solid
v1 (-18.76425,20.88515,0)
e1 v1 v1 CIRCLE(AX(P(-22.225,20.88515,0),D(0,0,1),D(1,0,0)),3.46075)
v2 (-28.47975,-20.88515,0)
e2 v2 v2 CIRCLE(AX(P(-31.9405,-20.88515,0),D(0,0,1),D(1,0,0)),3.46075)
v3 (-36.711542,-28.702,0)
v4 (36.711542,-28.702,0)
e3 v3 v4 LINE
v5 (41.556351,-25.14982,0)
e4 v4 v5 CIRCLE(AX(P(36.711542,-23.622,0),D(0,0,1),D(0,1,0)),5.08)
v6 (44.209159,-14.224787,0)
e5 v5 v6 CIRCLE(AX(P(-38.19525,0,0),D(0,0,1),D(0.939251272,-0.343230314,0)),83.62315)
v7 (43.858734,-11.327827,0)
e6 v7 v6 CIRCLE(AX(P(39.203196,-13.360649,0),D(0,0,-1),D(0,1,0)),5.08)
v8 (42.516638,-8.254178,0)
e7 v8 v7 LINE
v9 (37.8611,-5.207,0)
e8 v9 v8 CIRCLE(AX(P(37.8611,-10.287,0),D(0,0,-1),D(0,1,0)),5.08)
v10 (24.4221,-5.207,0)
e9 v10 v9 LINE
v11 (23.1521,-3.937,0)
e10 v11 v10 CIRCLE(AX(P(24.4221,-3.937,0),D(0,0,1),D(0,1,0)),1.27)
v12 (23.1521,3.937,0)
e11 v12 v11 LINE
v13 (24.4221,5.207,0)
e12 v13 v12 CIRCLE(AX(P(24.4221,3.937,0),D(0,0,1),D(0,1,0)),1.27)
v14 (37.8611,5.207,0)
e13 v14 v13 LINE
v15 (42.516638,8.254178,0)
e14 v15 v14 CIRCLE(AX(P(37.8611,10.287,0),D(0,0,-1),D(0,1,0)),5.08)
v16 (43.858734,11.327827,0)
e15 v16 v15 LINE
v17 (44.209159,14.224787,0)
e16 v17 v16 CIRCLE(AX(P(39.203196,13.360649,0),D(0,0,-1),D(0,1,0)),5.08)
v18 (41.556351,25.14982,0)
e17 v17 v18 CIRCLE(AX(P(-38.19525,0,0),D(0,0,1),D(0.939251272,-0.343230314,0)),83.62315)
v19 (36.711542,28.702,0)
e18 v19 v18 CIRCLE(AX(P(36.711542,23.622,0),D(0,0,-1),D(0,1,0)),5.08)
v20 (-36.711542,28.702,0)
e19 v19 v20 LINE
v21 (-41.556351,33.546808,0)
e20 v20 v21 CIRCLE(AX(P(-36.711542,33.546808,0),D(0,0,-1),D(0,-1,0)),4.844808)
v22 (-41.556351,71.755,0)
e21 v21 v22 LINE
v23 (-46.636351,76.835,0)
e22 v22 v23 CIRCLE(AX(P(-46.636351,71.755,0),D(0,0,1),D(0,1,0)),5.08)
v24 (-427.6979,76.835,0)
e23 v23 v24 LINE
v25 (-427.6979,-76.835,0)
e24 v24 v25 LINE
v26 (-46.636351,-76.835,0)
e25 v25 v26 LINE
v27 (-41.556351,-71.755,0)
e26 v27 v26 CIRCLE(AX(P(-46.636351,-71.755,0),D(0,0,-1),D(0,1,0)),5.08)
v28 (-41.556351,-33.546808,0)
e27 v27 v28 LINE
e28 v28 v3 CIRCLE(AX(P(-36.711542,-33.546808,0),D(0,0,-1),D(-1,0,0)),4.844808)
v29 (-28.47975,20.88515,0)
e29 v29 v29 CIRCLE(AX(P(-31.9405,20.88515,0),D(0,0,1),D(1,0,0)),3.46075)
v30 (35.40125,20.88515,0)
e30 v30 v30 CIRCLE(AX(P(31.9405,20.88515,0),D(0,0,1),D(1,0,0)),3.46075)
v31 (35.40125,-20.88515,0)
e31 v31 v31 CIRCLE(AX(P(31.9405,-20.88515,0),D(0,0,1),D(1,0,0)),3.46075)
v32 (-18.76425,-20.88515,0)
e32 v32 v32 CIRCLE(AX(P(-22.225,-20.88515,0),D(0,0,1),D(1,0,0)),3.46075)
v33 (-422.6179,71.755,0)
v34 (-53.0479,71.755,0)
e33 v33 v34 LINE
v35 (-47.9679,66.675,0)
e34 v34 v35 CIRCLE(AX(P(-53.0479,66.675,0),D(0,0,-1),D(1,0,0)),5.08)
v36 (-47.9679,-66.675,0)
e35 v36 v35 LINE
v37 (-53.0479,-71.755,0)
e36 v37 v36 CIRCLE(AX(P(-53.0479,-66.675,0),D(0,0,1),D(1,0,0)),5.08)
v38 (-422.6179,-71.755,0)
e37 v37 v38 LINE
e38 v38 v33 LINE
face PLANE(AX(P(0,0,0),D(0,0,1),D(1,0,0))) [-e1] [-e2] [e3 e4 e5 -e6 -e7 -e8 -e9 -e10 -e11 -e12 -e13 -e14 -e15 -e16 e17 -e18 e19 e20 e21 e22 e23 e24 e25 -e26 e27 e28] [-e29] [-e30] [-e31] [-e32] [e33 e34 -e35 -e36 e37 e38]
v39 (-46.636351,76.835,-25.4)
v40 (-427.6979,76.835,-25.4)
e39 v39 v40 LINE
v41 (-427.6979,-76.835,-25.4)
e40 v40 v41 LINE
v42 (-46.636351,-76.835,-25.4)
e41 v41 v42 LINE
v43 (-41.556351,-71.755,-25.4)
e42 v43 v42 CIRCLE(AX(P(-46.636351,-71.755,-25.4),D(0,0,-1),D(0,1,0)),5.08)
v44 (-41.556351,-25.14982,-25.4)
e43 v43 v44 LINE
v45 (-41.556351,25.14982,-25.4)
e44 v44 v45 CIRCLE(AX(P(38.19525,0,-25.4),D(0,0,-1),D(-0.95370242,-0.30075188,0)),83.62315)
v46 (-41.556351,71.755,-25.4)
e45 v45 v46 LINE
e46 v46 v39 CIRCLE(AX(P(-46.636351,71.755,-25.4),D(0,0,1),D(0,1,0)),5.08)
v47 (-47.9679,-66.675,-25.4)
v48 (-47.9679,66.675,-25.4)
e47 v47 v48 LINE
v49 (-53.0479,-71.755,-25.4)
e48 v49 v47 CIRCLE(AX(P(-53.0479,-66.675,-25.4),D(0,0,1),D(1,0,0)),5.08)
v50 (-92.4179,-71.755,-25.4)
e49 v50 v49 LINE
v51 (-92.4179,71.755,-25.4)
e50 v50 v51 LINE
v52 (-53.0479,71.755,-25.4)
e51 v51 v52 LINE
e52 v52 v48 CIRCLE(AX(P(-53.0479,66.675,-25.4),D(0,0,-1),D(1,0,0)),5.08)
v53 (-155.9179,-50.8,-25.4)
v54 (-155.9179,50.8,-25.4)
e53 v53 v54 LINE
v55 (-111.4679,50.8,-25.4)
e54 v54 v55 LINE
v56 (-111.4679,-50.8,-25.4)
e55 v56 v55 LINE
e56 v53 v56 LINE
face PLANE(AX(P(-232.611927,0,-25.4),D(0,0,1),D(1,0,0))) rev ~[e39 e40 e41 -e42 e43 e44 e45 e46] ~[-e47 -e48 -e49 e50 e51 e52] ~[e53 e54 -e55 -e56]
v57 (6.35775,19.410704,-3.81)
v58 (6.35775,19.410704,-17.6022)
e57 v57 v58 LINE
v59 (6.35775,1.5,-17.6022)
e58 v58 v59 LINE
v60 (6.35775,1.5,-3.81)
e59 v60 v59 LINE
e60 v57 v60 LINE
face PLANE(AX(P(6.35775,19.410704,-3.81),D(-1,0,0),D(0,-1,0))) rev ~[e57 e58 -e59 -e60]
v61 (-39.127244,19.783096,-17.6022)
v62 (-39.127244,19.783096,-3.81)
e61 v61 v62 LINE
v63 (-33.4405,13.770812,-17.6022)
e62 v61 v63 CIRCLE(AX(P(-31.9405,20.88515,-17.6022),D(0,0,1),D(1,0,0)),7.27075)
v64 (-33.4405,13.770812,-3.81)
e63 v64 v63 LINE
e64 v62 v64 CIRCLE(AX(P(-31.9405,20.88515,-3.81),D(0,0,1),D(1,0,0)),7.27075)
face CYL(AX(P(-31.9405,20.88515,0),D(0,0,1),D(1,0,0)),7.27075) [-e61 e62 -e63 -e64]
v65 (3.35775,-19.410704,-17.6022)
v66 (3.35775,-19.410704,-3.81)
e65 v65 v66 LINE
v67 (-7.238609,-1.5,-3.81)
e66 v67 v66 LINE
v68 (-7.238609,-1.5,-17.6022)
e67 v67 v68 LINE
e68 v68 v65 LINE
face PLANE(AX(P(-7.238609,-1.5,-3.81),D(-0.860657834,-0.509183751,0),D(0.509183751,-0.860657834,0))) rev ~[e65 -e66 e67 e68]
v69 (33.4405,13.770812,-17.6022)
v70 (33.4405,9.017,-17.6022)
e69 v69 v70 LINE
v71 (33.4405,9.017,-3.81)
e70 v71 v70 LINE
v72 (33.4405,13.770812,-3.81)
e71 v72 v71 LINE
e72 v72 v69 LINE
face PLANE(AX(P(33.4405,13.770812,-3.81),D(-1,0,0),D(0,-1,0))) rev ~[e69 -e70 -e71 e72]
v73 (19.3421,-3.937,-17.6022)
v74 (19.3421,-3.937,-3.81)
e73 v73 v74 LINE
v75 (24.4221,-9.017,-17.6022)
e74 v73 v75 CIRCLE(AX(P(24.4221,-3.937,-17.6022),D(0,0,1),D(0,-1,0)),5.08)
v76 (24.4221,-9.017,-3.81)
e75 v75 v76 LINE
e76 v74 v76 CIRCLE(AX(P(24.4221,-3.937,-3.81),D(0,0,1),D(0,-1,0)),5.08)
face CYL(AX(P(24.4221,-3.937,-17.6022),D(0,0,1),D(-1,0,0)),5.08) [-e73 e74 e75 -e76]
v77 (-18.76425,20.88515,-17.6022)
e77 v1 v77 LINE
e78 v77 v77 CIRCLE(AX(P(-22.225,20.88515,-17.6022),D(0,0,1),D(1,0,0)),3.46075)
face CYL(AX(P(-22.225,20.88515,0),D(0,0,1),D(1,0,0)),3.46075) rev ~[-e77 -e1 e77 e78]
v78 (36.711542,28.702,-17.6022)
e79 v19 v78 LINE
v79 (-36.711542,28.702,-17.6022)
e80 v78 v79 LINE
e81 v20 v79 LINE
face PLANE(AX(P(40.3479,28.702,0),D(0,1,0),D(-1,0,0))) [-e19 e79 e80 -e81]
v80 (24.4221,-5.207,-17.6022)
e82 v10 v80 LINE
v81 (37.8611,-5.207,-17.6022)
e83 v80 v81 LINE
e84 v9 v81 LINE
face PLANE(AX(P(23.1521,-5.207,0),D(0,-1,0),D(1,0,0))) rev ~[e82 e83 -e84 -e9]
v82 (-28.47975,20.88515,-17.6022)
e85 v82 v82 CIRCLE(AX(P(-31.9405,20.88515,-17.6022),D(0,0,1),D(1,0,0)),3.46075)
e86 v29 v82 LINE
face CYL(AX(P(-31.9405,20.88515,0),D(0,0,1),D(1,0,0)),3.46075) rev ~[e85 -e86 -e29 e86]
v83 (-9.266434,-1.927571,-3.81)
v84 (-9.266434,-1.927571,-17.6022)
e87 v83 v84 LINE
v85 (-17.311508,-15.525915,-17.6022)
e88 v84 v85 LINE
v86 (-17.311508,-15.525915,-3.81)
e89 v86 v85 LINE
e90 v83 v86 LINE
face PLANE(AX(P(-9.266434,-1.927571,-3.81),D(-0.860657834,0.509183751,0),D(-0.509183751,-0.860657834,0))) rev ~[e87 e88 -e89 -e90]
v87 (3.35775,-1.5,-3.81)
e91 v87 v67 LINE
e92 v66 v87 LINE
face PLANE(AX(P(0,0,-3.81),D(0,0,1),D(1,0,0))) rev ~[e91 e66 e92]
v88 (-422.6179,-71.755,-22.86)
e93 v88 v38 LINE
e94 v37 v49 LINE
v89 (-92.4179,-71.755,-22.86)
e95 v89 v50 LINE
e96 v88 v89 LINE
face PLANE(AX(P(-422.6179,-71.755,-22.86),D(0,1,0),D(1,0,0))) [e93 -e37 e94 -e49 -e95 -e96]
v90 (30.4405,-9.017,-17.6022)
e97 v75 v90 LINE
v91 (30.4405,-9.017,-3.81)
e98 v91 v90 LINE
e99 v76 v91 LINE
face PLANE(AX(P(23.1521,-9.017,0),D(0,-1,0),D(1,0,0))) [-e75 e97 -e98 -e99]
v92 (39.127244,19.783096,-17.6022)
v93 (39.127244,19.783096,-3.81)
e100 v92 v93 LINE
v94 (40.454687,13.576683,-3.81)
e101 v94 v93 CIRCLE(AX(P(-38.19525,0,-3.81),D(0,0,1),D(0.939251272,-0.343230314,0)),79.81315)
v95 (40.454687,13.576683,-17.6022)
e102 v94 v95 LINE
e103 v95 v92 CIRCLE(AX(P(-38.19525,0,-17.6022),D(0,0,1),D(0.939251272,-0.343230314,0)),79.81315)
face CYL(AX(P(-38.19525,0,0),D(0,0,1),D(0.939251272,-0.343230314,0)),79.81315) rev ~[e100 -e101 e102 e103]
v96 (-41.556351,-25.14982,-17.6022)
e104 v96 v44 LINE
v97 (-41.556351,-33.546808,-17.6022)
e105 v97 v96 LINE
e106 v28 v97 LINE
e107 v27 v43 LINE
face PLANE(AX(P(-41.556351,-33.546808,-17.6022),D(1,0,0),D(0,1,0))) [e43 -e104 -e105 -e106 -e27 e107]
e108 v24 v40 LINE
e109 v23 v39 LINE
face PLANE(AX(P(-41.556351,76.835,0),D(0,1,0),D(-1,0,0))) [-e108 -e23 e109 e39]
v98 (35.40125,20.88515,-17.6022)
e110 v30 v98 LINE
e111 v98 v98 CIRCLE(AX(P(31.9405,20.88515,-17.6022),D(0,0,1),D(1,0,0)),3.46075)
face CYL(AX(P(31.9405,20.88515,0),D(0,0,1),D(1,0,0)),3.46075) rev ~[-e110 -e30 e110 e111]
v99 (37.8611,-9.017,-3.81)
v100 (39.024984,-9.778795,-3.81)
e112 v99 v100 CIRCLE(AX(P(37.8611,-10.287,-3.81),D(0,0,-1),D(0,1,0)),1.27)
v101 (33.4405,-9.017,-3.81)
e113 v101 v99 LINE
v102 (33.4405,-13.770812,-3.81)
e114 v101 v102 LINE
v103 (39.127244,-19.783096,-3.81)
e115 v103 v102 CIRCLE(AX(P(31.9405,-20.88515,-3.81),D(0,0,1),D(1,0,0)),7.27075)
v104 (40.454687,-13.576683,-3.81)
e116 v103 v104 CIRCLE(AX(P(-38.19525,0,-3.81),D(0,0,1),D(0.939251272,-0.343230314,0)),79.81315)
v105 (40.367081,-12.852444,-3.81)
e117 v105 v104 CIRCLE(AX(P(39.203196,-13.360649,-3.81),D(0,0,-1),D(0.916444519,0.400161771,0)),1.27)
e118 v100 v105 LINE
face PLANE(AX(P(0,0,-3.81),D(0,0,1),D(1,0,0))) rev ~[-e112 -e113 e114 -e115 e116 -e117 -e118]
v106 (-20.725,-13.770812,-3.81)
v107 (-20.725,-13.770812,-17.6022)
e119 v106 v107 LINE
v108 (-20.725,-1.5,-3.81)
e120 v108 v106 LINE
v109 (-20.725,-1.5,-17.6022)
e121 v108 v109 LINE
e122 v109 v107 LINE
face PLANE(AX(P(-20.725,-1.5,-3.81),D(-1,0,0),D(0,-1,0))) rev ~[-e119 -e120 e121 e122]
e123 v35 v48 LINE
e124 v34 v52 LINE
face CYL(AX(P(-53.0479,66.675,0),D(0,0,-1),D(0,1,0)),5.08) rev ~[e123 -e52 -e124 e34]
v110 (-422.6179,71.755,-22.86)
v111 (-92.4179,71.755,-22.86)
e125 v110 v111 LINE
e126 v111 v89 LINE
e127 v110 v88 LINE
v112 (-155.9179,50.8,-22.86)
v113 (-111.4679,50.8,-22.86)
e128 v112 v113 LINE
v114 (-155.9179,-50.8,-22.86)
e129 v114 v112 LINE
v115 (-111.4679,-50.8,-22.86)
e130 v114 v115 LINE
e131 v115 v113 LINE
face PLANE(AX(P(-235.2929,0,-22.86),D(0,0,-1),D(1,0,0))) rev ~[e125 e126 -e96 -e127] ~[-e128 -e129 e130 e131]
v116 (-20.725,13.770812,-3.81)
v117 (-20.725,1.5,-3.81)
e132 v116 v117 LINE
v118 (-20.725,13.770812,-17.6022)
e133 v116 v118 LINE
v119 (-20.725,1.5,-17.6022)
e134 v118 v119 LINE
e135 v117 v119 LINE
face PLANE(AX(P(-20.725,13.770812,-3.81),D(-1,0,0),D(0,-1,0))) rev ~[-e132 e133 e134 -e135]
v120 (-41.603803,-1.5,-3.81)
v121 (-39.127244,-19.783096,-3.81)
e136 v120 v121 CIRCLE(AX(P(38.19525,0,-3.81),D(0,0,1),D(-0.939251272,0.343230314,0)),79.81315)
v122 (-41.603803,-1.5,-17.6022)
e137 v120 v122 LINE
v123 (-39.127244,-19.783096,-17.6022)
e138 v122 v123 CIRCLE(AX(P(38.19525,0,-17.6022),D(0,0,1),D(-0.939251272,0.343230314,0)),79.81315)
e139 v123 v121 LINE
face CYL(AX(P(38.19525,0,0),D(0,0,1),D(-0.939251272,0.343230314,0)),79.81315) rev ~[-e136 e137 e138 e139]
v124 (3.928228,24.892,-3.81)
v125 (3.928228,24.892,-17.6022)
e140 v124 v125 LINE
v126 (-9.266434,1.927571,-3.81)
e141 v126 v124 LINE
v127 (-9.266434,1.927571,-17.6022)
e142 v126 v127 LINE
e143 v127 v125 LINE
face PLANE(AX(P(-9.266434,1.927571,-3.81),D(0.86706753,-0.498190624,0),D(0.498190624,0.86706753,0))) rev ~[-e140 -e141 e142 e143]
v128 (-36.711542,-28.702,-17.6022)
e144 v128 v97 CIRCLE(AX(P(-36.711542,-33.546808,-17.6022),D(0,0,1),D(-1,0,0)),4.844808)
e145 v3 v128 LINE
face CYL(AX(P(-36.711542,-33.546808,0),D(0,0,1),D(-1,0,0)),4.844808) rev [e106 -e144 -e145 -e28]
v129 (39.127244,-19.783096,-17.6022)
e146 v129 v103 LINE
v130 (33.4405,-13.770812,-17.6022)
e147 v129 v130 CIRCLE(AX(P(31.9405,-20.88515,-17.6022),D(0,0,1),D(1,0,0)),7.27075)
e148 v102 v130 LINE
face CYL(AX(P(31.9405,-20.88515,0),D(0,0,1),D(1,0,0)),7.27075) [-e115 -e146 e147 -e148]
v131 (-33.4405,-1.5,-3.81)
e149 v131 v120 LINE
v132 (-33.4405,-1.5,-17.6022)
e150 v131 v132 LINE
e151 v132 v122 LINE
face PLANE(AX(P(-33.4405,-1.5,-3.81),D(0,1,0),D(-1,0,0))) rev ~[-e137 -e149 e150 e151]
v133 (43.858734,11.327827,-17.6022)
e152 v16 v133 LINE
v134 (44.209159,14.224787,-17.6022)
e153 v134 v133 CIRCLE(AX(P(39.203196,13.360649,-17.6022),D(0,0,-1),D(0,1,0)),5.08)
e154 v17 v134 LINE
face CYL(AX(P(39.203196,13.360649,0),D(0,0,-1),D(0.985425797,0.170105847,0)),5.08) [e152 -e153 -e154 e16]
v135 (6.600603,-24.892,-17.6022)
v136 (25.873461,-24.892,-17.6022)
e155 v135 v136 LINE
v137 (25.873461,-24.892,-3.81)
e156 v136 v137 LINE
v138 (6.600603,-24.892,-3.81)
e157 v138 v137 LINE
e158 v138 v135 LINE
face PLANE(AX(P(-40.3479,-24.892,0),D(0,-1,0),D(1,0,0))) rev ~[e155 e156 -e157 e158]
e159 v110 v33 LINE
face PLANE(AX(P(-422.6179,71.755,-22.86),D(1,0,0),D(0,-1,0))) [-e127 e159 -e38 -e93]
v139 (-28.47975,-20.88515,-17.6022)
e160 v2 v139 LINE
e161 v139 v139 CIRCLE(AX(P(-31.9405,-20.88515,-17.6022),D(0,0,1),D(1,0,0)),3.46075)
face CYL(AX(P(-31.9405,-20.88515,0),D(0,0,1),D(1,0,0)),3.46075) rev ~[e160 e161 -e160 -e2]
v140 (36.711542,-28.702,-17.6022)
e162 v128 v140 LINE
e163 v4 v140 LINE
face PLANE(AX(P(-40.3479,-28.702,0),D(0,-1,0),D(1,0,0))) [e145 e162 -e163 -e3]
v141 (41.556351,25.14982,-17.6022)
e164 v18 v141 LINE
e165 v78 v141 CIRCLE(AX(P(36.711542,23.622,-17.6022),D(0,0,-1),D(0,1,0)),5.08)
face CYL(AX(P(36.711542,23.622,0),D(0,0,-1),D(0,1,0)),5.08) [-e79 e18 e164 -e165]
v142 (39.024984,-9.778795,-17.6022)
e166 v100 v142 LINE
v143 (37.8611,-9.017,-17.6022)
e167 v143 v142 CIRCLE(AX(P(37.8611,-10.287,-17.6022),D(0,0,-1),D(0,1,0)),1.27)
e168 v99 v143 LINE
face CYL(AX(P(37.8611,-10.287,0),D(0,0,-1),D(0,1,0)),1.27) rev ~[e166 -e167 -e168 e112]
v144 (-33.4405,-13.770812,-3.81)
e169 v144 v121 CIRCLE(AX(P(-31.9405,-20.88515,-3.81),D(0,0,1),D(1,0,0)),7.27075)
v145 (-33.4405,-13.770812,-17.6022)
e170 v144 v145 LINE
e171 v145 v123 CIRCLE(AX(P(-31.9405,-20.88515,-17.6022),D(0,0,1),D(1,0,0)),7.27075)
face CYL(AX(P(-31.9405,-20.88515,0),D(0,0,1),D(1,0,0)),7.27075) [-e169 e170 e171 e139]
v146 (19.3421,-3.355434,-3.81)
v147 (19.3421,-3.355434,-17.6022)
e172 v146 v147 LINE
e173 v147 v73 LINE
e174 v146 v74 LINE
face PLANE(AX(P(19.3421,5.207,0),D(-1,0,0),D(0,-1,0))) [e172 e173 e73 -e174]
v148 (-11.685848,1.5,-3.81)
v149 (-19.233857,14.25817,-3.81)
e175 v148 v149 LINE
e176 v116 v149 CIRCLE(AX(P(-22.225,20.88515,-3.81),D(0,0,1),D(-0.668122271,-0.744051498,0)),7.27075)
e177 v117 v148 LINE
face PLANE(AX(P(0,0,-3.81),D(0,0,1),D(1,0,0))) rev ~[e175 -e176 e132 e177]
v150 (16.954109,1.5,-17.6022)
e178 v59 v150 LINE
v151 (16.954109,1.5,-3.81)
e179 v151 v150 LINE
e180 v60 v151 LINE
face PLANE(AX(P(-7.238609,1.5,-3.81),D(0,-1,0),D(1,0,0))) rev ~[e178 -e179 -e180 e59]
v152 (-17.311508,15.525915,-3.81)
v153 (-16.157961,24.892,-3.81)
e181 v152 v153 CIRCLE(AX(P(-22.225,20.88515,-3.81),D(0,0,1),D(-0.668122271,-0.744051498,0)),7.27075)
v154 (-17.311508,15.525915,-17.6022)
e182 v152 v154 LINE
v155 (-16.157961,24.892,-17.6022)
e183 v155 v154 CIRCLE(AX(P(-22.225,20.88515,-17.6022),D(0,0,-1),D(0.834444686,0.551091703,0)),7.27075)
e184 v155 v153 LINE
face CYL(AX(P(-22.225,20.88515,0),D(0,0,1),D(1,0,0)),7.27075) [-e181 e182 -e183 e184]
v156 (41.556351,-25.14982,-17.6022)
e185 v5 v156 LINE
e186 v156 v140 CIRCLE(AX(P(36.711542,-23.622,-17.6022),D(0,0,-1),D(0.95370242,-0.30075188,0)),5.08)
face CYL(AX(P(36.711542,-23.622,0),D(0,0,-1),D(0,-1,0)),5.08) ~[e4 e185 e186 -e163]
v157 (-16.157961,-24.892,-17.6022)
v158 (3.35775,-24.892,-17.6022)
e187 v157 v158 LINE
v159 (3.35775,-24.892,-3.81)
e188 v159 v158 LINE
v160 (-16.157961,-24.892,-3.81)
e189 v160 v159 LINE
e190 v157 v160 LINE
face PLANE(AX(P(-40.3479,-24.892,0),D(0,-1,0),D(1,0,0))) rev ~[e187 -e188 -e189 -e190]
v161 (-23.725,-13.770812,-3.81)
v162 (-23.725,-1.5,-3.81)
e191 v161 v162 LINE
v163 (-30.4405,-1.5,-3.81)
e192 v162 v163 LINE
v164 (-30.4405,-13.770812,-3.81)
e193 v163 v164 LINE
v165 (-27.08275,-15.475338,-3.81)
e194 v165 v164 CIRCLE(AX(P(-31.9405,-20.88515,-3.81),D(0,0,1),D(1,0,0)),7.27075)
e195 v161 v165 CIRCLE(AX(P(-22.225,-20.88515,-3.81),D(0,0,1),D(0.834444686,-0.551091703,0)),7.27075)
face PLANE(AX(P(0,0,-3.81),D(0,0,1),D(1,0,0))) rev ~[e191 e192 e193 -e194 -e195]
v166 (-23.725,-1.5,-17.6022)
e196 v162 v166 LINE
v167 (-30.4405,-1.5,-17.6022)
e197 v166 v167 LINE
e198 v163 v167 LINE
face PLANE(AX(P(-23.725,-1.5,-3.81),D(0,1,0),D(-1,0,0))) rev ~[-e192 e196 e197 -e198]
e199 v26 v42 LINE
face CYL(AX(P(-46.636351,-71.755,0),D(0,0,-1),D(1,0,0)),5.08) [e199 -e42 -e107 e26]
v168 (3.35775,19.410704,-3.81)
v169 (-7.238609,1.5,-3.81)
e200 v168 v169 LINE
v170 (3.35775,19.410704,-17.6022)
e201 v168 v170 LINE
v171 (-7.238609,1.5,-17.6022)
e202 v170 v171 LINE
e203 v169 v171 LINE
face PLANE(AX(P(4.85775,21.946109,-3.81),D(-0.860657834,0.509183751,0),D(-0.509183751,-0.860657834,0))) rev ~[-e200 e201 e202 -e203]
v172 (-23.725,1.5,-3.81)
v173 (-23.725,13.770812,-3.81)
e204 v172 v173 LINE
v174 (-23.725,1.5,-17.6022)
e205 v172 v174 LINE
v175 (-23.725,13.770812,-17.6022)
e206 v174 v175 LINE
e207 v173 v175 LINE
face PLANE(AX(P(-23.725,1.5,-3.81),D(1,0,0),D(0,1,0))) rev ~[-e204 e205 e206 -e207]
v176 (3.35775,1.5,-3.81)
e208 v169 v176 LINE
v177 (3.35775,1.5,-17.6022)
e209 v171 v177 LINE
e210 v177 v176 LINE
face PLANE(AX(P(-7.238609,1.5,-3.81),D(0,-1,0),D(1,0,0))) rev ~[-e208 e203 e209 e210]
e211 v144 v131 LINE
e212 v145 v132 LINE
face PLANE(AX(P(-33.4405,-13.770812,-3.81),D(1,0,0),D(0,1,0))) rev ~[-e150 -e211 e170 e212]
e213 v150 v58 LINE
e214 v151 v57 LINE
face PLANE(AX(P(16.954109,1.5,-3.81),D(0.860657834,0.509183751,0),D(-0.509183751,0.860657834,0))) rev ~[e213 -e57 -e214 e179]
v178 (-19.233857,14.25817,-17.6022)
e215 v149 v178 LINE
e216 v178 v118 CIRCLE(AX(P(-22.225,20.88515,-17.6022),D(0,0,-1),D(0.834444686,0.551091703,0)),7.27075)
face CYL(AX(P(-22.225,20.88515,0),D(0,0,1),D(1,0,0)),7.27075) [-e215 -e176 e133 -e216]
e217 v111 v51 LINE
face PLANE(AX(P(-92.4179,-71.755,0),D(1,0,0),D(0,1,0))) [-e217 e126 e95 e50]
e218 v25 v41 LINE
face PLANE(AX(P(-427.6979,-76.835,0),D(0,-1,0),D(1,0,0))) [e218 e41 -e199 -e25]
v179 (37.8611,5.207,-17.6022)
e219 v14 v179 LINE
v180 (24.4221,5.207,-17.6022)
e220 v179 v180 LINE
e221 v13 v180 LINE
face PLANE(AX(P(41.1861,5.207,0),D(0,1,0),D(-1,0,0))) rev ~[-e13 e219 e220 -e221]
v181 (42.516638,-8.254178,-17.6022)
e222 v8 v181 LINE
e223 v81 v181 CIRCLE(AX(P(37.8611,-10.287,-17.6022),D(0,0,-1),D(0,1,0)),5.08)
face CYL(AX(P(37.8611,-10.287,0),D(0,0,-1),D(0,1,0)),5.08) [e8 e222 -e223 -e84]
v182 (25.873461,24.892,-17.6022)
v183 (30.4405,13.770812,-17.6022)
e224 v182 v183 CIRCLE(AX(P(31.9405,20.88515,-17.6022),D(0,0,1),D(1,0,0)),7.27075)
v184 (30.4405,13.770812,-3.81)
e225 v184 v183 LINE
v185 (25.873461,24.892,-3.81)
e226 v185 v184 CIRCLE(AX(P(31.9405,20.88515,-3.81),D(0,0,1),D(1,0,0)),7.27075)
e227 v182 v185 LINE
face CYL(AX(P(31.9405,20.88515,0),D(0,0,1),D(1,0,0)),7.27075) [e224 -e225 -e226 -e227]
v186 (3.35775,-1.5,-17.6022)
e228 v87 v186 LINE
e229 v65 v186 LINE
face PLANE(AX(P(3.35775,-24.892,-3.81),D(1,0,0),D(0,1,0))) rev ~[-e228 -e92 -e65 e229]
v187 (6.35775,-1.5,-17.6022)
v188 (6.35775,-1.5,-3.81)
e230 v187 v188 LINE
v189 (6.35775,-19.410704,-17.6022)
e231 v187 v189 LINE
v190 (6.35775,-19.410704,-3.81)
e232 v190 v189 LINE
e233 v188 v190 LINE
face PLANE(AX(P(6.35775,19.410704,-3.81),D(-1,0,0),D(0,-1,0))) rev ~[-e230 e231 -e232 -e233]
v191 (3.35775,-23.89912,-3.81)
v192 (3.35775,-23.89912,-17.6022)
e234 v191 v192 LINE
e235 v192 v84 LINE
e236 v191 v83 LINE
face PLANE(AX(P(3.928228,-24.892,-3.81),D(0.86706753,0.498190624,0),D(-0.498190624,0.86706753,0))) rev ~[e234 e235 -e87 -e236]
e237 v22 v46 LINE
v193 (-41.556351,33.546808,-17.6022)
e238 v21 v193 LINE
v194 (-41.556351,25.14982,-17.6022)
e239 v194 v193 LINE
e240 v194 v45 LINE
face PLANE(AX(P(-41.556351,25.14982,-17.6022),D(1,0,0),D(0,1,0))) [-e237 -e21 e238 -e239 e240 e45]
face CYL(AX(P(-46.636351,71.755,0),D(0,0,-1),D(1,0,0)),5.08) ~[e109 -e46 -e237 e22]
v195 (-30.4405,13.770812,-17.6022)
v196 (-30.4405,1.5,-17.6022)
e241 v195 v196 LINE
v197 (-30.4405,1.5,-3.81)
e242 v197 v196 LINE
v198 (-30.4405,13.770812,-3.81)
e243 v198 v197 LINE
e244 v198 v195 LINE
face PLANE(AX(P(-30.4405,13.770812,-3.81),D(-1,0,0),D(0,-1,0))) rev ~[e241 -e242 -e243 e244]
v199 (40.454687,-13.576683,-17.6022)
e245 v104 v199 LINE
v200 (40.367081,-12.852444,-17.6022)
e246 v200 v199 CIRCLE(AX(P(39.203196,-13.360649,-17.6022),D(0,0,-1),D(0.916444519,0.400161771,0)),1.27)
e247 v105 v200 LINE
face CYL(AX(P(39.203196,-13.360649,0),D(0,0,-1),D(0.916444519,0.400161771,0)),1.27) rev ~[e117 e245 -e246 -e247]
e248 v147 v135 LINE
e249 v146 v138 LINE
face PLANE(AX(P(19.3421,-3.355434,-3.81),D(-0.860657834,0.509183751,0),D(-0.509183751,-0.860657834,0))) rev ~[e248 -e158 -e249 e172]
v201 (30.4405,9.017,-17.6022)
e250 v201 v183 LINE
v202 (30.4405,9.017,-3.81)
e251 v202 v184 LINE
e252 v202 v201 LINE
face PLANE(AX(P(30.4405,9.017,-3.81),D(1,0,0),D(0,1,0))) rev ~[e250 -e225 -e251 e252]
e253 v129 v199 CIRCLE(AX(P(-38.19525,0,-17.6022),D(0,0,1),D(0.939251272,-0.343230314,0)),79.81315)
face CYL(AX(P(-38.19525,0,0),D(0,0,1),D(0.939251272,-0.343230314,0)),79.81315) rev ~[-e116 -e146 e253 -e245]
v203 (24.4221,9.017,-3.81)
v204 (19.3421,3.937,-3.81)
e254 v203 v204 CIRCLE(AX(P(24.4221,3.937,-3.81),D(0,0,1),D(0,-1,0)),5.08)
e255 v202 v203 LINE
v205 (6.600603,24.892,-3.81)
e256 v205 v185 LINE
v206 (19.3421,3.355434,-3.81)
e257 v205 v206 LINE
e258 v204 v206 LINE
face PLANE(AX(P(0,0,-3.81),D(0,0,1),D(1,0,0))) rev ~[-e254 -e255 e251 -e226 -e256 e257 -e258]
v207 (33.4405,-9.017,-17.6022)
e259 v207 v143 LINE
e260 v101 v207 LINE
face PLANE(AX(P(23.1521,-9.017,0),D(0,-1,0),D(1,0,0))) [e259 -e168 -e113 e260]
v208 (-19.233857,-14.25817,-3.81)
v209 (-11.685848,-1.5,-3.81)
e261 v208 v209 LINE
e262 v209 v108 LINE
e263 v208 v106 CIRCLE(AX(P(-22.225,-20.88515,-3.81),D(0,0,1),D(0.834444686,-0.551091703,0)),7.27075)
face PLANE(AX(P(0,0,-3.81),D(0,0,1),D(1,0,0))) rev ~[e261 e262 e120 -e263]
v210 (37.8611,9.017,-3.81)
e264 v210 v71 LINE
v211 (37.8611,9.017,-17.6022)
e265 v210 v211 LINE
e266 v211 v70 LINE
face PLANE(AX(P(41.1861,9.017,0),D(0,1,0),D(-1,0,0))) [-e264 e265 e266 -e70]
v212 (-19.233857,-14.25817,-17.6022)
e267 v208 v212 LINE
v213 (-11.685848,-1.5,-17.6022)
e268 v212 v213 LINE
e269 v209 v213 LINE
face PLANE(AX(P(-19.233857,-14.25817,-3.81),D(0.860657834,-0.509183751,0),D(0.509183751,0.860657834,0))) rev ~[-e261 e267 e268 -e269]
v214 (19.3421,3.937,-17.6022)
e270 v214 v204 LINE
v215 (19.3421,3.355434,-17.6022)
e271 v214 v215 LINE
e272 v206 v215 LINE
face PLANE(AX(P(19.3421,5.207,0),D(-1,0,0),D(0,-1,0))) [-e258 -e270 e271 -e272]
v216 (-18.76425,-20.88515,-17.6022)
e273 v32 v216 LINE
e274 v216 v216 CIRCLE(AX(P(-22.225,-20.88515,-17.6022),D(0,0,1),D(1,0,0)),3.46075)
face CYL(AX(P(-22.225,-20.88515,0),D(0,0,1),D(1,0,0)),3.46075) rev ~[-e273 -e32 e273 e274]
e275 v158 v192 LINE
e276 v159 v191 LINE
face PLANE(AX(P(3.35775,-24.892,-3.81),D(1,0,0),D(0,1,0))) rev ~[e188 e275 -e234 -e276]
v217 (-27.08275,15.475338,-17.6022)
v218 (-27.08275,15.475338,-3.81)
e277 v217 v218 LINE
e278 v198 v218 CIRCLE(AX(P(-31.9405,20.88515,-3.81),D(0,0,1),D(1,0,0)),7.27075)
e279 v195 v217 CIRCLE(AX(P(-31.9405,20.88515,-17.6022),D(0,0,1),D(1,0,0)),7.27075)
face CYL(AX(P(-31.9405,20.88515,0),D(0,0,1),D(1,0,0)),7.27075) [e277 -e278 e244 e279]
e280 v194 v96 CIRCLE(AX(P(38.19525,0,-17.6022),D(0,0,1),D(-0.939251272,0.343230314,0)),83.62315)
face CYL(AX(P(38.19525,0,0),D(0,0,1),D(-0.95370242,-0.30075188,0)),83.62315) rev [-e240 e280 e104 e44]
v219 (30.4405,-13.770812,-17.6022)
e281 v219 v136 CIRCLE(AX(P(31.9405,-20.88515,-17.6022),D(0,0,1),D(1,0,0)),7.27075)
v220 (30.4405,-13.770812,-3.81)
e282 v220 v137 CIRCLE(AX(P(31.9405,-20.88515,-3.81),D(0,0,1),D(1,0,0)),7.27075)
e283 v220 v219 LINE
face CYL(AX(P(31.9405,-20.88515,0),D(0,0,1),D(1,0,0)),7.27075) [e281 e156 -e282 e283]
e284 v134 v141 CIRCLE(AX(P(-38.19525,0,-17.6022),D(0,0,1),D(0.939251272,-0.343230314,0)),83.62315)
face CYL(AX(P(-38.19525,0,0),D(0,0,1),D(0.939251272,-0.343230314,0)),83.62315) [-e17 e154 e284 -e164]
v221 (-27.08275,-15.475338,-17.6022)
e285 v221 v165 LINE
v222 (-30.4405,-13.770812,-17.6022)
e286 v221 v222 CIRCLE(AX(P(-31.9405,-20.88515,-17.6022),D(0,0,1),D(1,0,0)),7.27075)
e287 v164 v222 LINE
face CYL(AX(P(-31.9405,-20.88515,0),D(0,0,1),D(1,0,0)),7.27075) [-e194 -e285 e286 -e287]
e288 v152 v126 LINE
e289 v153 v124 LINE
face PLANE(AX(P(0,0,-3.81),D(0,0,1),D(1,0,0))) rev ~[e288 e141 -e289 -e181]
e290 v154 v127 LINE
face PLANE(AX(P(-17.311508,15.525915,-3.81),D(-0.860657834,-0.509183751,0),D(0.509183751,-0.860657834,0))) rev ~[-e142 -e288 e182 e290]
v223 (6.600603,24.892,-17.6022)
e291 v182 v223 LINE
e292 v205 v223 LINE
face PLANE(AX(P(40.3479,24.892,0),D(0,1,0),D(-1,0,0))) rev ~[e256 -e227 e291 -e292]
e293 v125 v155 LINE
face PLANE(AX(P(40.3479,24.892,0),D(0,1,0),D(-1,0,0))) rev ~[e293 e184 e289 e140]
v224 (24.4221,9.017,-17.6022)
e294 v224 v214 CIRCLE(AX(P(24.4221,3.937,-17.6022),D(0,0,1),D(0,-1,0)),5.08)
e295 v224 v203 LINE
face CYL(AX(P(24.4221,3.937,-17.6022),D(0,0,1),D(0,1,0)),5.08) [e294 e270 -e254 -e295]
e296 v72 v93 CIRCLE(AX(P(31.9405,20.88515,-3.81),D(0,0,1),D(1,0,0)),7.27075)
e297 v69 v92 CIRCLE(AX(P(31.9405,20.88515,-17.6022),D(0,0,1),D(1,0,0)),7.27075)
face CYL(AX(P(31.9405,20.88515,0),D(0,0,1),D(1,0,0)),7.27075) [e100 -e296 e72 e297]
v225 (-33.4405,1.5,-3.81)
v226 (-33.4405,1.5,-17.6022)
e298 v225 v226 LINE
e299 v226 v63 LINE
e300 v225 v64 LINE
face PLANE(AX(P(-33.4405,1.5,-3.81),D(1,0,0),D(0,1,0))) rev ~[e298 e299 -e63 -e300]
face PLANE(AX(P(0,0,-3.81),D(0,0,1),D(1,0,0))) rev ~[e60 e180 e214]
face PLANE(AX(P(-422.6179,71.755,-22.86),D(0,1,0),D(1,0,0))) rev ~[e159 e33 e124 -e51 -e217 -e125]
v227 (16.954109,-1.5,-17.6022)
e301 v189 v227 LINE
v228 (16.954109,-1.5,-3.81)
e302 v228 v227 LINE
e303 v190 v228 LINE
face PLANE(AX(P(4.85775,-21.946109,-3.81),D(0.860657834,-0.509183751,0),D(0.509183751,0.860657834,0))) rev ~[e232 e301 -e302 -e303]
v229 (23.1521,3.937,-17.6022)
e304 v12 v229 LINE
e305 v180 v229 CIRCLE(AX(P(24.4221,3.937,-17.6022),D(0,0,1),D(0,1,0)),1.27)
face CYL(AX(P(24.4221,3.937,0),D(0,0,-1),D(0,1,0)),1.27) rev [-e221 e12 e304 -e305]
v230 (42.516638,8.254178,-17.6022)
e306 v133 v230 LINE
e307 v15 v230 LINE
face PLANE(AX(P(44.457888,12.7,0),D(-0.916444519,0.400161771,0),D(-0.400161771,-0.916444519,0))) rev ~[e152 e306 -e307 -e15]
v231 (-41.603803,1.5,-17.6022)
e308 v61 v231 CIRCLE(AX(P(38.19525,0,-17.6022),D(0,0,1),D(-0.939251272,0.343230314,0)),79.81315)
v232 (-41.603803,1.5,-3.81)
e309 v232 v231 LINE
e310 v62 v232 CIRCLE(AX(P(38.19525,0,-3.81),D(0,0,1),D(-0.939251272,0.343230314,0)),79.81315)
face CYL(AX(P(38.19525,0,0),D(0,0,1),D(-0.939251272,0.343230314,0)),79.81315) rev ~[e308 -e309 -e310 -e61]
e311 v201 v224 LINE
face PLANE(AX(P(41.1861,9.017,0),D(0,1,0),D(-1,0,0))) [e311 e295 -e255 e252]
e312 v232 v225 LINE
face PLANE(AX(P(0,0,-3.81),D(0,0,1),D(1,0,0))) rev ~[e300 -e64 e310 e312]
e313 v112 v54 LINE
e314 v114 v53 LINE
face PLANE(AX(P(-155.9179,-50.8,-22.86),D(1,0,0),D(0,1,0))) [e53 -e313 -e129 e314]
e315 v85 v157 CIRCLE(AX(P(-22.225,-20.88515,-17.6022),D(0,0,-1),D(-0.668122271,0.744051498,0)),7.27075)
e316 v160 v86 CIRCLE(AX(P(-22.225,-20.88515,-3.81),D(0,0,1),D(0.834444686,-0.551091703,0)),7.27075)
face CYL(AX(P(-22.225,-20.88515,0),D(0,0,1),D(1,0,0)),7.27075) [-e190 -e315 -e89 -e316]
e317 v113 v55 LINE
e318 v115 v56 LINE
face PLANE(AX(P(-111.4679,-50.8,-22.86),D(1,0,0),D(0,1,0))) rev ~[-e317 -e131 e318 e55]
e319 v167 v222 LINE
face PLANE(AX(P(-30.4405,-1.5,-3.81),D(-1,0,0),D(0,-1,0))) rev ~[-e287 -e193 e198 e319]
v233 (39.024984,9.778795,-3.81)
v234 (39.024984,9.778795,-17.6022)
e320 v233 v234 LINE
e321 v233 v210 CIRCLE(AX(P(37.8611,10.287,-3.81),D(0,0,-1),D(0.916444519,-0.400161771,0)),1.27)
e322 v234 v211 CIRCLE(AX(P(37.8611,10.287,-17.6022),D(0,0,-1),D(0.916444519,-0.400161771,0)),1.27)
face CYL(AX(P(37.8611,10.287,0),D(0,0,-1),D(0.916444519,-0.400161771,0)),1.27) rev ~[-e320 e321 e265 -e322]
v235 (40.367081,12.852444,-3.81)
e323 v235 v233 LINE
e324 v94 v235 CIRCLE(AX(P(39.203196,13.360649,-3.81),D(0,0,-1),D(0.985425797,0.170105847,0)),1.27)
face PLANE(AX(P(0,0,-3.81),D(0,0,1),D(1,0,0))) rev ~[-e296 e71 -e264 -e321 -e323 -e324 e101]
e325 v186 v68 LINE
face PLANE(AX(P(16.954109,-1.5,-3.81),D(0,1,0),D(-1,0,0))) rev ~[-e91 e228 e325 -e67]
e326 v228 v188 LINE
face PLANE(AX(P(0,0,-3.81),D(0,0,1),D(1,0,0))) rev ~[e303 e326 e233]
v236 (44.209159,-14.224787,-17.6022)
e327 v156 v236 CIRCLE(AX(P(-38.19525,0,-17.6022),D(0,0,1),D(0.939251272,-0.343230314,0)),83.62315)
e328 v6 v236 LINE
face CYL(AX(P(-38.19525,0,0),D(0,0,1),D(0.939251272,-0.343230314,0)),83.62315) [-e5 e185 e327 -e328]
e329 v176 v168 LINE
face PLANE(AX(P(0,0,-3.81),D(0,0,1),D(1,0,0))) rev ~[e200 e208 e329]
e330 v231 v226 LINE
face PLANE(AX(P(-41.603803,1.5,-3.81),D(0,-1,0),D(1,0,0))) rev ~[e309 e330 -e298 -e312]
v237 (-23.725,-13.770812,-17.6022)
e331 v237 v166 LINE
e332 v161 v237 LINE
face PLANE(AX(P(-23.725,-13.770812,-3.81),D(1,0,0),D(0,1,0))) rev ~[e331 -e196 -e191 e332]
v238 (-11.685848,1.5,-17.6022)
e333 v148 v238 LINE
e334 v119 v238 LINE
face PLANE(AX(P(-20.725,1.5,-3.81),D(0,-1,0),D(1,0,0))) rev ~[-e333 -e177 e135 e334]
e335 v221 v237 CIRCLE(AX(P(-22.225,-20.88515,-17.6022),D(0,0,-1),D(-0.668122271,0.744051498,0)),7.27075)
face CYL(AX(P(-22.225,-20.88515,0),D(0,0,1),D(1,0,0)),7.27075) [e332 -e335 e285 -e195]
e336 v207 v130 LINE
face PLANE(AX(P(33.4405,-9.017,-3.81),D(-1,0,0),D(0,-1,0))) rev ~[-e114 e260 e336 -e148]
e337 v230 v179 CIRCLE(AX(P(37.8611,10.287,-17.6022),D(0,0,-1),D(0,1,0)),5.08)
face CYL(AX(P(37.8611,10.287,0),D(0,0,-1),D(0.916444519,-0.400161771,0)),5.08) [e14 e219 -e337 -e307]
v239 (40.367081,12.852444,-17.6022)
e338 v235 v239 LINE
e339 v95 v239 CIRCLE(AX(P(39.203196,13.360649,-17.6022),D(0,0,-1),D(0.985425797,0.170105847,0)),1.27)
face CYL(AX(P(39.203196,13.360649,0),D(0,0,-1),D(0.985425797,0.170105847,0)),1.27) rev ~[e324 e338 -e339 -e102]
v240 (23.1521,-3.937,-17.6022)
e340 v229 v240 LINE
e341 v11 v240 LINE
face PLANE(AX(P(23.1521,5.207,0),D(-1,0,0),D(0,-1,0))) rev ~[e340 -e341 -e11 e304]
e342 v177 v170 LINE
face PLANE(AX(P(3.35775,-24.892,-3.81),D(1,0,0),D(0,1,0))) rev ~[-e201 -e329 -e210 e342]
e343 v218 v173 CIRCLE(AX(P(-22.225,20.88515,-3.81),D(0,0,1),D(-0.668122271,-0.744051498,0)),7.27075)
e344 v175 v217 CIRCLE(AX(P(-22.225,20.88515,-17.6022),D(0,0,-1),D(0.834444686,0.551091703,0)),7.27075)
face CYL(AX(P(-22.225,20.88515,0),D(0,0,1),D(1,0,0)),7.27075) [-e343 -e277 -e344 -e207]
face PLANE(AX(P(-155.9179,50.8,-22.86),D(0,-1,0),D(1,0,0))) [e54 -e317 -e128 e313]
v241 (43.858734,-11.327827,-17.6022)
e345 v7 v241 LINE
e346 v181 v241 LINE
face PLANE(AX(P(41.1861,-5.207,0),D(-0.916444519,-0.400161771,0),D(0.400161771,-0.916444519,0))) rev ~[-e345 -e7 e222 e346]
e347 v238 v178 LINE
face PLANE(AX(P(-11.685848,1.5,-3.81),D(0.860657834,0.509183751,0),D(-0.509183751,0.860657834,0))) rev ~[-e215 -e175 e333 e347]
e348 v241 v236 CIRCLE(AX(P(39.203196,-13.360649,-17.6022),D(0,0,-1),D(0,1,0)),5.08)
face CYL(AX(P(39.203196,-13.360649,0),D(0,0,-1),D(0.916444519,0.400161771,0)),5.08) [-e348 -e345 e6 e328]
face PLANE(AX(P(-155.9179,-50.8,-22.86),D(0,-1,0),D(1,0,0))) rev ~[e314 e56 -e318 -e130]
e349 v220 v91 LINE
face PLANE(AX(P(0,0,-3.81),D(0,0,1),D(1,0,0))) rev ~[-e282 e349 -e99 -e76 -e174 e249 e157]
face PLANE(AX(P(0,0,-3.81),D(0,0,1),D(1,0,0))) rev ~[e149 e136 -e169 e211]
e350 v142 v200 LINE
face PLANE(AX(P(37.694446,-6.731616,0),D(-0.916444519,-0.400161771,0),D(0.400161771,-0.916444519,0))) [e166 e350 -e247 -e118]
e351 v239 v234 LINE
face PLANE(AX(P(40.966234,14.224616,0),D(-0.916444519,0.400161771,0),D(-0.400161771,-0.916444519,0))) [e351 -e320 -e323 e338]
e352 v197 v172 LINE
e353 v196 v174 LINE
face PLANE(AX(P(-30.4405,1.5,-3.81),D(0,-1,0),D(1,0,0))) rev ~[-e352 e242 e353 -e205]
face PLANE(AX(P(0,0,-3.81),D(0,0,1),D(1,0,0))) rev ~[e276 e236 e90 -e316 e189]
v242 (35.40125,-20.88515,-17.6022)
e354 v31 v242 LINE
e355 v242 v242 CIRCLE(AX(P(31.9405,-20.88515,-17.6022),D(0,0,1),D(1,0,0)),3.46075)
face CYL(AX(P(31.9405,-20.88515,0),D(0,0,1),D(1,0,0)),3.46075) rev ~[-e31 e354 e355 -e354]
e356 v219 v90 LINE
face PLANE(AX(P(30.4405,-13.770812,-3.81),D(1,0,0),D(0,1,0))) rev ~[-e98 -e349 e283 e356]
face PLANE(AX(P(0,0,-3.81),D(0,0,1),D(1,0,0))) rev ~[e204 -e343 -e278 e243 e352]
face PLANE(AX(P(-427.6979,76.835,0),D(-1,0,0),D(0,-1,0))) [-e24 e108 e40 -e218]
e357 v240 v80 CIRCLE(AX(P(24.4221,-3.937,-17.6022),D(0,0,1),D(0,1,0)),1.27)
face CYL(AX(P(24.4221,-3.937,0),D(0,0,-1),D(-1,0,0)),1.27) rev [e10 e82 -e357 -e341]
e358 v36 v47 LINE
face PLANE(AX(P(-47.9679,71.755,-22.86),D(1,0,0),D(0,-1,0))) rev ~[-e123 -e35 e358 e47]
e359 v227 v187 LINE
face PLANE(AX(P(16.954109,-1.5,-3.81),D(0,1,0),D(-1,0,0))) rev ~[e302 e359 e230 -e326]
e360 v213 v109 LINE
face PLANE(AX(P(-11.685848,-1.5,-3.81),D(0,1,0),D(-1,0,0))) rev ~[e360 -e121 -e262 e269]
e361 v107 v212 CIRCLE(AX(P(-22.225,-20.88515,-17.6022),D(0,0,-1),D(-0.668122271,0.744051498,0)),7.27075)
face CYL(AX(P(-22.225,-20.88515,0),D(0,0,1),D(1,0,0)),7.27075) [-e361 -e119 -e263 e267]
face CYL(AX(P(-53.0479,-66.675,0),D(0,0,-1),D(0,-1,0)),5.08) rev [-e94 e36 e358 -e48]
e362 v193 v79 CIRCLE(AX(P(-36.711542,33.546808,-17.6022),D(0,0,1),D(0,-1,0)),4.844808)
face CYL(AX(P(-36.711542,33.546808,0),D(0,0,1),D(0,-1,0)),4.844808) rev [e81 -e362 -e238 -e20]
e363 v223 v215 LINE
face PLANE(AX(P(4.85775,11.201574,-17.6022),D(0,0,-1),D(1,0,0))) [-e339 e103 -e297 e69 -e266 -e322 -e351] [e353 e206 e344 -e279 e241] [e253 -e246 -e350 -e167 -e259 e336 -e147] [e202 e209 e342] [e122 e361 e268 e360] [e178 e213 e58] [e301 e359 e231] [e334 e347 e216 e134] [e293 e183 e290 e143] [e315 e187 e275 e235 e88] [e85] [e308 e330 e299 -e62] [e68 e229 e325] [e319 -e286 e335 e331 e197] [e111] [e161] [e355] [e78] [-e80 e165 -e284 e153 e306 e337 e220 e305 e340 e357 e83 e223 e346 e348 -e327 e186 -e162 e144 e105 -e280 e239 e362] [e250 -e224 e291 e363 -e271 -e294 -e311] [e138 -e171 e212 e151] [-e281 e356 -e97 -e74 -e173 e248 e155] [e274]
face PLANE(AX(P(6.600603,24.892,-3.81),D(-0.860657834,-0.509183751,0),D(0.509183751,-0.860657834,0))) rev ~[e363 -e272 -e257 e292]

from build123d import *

# Parameters (mm, degrees)
F0_R      = 3.46075
F1_DEPTH  = 17.6022
F3_DEPTH  = 17.6032
F4_R      = 5.08
F5_T      = -3.81
F6_R      = 1.27
F7_R      = 5.08
F9_DEPTH  = 13.7922
F10_DEPTH = 13.7922
F11_W     = 3
F11_H     = 26.392
F12_DEPTH = 13.7922
F14_DEPTH = 25.4
F17_DEPTH = 25.4
F19_START = -2.54
F18_W     = 374.65
F18_H     = 143.51
F19_DEPTH = 22.861
F20_W     = 44.45
F20_H     = 143.51
F21_DEPTH = 25.401
F22_W     = 44.45
F22_H     = 101.6
F23_DEPTH = 2.541
F24_R     = 5.08


with BuildPart() as f1:
    # F0 (on Top) → F1 (new body)
    with BuildSketch(Plane.XY):
        with BuildLine():
            Line((40.3479, 28.702), (-40.3479, 28.702))
            ThreePointArc((-40.3479, 28.702), (-44.1481068354, 14.5740454576), (-45.4279, 0))
            ThreePointArc((-45.4279, 0), (-44.1481068354, -14.5740454576), (-40.3479, -28.702))
            Line((-40.3479, -28.702), (40.3479, -28.702))
            ThreePointArc((40.3479, -28.702), (44.1481068354, -14.5740454576), (45.4279, 0))
            ThreePointArc((45.4279, 0), (44.1481068354, 14.5740454576), (40.3479, 28.702))
        make_face()
        with Locations((-31.9405, -20.88515)):
            Circle(F0_R, mode=Mode.SUBTRACT)
        with Locations((-22.225, -20.88515)):
            Circle(F0_R, mode=Mode.SUBTRACT)
        with Locations((31.9405, -20.88515)):
            Circle(F0_R, mode=Mode.SUBTRACT)
        with Locations((-31.9405, 20.88515)):
            Circle(F0_R, mode=Mode.SUBTRACT)
        with Locations((-22.225, 20.88515)):
            Circle(F0_R, mode=Mode.SUBTRACT)
        with Locations((31.9405, 20.88515)):
            Circle(F0_R, mode=Mode.SUBTRACT)
    extrude(amount=-F1_DEPTH)

    # F2 (on face) → F3 (cut, through all)
    with BuildSketch(Plane.XY):
        with BuildLine():
            Line((41.1861, -5.207), (44.4578879678, -12.7))
            ThreePointArc((44.4578879678, -12.7), (45.4279, 0), (44.4578879678, 12.7))
            Line((44.4578879678, 12.7), (41.1861, 5.207))
            Line((41.1861, 5.207), (23.1521, 5.207))
            Line((23.1521, 5.207), (23.1521, -5.207))
            Line((23.1521, -5.207), (41.1861, -5.207))
        make_face()
    extrude(amount=-F3_DEPTH, mode=Mode.SUBTRACT)

    # F4
    f4_edges = [f1.edges().sort_by_distance(p)[0] for p in [
        (40.3479, -28.702, -8.8011),
        (-40.3479, -28.702, -8.8011),
        (44.457888, -12.7, -8.8011),
        (41.1861, 5.207, -8.8011),
        (44.457888, 12.7, -8.8011),
        (40.3479, 28.702, -8.8011),
        (41.1861, -5.207, -8.8011),
        (-40.3479, 28.702, -8.8011),
    ]]
    fillet(f4_edges, radius=F4_R)

    # F5
    f5_openings = [f1.faces().sort_by_distance(p)[0] for p in [
        (-1.726603, 0, -17.6022),
    ]]
    offset(amount=F5_T, openings=f5_openings, kind=Kind.INTERSECTION)

    # F6
    f6_edges = [f1.edges().sort_by_distance(p)[0] for p in [
        (23.1521, -5.207, -8.8011),
        (23.1521, 5.207, -8.8011),
    ]]
    fillet(f6_edges, radius=F6_R)

    # F7
    f7_edges = [f1.edges().sort_by_distance(p)[0] for p in [
        (19.3421, 9.017, -10.7061),
        (19.3421, -9.017, -10.7061),
    ]]
    fillet(f7_edges, radius=F7_R)

    # F8 (on face) → F9 (join, through all)
    with BuildSketch(Plane(origin=(0, 0, -3.81), x_dir=(1, 0, 0), z_dir=(0, 0, -1))):
        with BuildLine():
            ThreePointArc((-30.4405, 13.770811973), (-31.9405, 13.6144), (-33.4405, 13.770811973))
            Line((-33.4405, 13.770811973), (-33.4405, 1.5))
            Line((-33.4405, 1.5), (-41.6038033335, 1.5))
            ThreePointArc((-41.6038033335, 1.5), (-41.6179, 0), (-41.6038033335, -1.5))
            Line((-41.6038033335, -1.5), (-33.4405, -1.5))
            Line((-33.4405, -1.5), (-33.4405, -13.770811973))
            ThreePointArc((-33.4405, -13.770811973), (-31.9405, -13.6144), (-30.4405, -13.770811973))
            Line((-30.4405, -13.770811973), (-30.4405, -1.5))
            Line((-30.4405, -1.5), (-23.725, -1.5))
            Line((-23.725, -1.5), (-23.725, -13.770811973))
            ThreePointArc((-23.725, -13.770811973), (-22.225, -13.6144), (-20.725, -13.770811973))
            Line((-20.725, -13.770811973), (-20.725, -1.5))
            Line((-20.725, -1.5), (-11.6858483937, -1.5))
            Line((-11.6858483937, -1.5), (-19.2338569272, -14.2581696408))
            ThreePointArc((-19.2338569272, -14.2581696408), (-18.2221749105, -14.8154550435), (-17.3115079246, -15.5259148691))
            Line((-17.3115079246, -15.5259148691), (-9.2664339883, -1.9275706705))
            Line((-9.2664339883, -1.9275706705), (3.9282284547, -24.892))
            Line((3.9282284547, -24.892), (6.6006028975, -24.892))
            Line((6.6006028975, -24.892), (19.3421, -3.3554343231))
            Line((19.3421, -3.3554343231), (19.3421, 3.3554343231))
            Line((19.3421, 3.3554343231), (6.6006028975, 24.892))
            Line((6.6006028975, 24.892), (3.9282284547, 24.892))
            Line((3.9282284547, 24.892), (-9.2664339883, 1.9275706705))
            Line((-9.2664339883, 1.9275706705), (-17.3115079246, 15.5259148691))
            ThreePointArc((-17.3115079246, 15.5259148691), (-18.2221749105, 14.8154550435), (-19.2338569272, 14.2581696408))
            Line((-19.2338569272, 14.2581696408), (-11.6858483937, 1.5))
            Line((-11.6858483937, 1.5), (-20.725, 1.5))
            Line((-20.725, 1.5), (-20.725, 13.770811973))
            ThreePointArc((-20.725, 13.770811973), (-22.225, 13.6144), (-23.725, 13.770811973))
            Line((-23.725, 13.770811973), (-23.725, 1.5))
            Line((-23.725, 1.5), (-30.4405, 1.5))
            Line((-30.4405, 1.5), (-30.4405, 13.770811973))
        make_face()
        Polygon((16.9541091985, -1.5), (4.85775, -21.9461086663), (-7.2386091985, -1.5), align=None, mode=Mode.SUBTRACT)
        Polygon((-7.2386091985, 1.5), (4.85775, 21.9461086663), (16.9541091985, 1.5), align=None, mode=Mode.SUBTRACT)
    extrude(amount=F9_DEPTH)

    # F8 (on face) → F10 (join, through all)
    with BuildSketch(Plane(origin=(0, 0, -3.81), x_dir=(1, 0, 0), z_dir=(0, 0, -1))):
        with BuildLine():
            ThreePointArc((33.4405, 13.770811973), (31.9405, 13.6144), (30.4405, 13.770811973))
            Line((30.4405, 13.770811973), (30.4405, 9.017))
            Line((30.4405, 9.017), (33.4405, 9.017))
            Line((33.4405, 9.017), (33.4405, 13.770811973))
        make_face()
        with BuildLine():
            Line((30.4405, -9.017), (30.4405, -13.770811973))
            ThreePointArc((30.4405, -13.770811973), (31.9405, -13.6144), (33.4405, -13.770811973))
            Line((33.4405, -13.770811973), (33.4405, -9.017))
            Line((33.4405, -9.017), (30.4405, -9.017))
        make_face()
    extrude(amount=F10_DEPTH)

    # F11 (on face) → F12 (join, through all)
    with BuildSketch(Plane(origin=(0, 0, -3.81), x_dir=(1, 0, 0), z_dir=(0, 0, -1))):
        Polygon((4.85775, -21.9461086663), (6.35775, -19.4107042115), (6.35775, -1.5), (3.35775, -1.5), (3.35775, -19.4107042115), align=None)
        with Locations((4.85775, 11.696)):
            Rectangle(F11_W, F11_H)
    extrude(amount=F12_DEPTH)


with BuildPart() as f14:
    # F13 (on Top) → F14 (new body)
    with BuildSketch(Plane.XY):
        with BuildLine():
            Line((-427.6979, -76.835), (-41.5563505644, -76.835))
            Line((-41.5563505644, -76.835), (-41.5563505644, -33.5468082961))
            ThreePointArc((-41.5563505644, -33.5468082961), (-40.137339068, -30.1210114964), (-36.7115422683, -28.702))
            ThreePointArc((-36.7115422683, -28.702), (-39.7152963104, -27.7188111568), (-41.5563505644, -25.1498195489))
            ThreePointArc((-41.5563505644, -25.1498195489), (-45.4279, 0), (-41.5563505644, 25.1498195489))
            ThreePointArc((-41.5563505644, 25.1498195489), (-39.7152963104, 27.7188111568), (-36.7115422683, 28.702))
            ThreePointArc((-36.7115422683, 28.702), (-40.137339068, 30.1210114964), (-41.5563505644, 33.5468082961))
            Line((-41.5563505644, 33.5468082961), (-41.5563505644, 76.835))
            Line((-41.5563505644, 76.835), (-427.6979, 76.835))
            Line((-427.6979, 76.835), (-427.6979, -76.835))
        make_face()
    extrude(amount=-F14_DEPTH)

    # F15: union F1
    add(f1.part)

    # F16 (on face) → F17 (cut)
    with BuildSketch(Plane(origin=(0, 0, -17.6022), x_dir=(1, 0, 0), z_dir=(0, 0, -1))):
        with BuildLine():
            ThreePointArc((-36.7115422683, -28.702), (-39.7152963104, -27.7188111568), (-41.5563505644, -25.1498195489))
            Line((-41.5563505644, -25.1498195489), (-41.5563505644, -33.5468082961))
            Line((-41.5563505644, -33.5468082961), (38.19525, -33.5468082961))
            Line((38.19525, -33.5468082961), (38.19525, -28.48049888))
            ThreePointArc((38.19525, -28.48049888), (37.4616174944, -28.6463195714), (36.7115422683, -28.702))
            Line((36.7115422683, -28.702), (-36.7115422683, -28.702))
        make_face()
        with BuildLine():
            Line((38.19525, 33.5468082961), (-41.5563505644, 33.5468082961))
            Line((-41.5563505644, 33.5468082961), (-41.5563505644, 25.1498195489))
            ThreePointArc((-41.5563505644, 25.1498195489), (-39.7152963104, 27.7188111568), (-36.7115422683, 28.702))
            Line((-36.7115422683, 28.702), (36.7115422683, 28.702))
            ThreePointArc((36.7115422683, 28.702), (37.4616174944, 28.6463195714), (38.19525, 28.48049888))
            Line((38.19525, 28.48049888), (38.19525, 33.5468082961))
        make_face()
    extrude(amount=F17_DEPTH, mode=Mode.SUBTRACT)

    # F18 (on face) → F19 (cut)
    with BuildSketch(Plane(origin=(0, 0, -25.4), x_dir=(1, 0, 0), z_dir=(0, 0, -1)).offset(F19_START)):
        with Locations((-235.2929, 0)):
            Rectangle(F18_W, F18_H)
    extrude(amount=-F19_DEPTH, mode=Mode.SUBTRACT)

    # F20 (on face) → F21 (cut, through all)
    with BuildSketch(Plane.XY):
        with Locations((-70.1929, 0)):
            Rectangle(F20_W, F20_H)
    extrude(amount=-F21_DEPTH, mode=Mode.SUBTRACT)

    # F22 (on face) → F23 (cut, through all)
    with BuildSketch(Plane.XY.offset(-22.86)):
        with Locations((-133.6929, 0)):
            Rectangle(F22_W, F22_H)
    extrude(amount=-F23_DEPTH, mode=Mode.SUBTRACT)

    # F24
    f24_edges = [f14.edges().sort_by_distance(p)[0] for p in [
        (-41.556351, -76.835, -12.7),
        (-41.556351, 76.835, -12.7),
        (-47.9679, 71.755, -12.7),
        (-47.9679, -71.755, -12.7),
    ]]
    fillet(f24_edges, radius=F24_R)


solid = f14.part
